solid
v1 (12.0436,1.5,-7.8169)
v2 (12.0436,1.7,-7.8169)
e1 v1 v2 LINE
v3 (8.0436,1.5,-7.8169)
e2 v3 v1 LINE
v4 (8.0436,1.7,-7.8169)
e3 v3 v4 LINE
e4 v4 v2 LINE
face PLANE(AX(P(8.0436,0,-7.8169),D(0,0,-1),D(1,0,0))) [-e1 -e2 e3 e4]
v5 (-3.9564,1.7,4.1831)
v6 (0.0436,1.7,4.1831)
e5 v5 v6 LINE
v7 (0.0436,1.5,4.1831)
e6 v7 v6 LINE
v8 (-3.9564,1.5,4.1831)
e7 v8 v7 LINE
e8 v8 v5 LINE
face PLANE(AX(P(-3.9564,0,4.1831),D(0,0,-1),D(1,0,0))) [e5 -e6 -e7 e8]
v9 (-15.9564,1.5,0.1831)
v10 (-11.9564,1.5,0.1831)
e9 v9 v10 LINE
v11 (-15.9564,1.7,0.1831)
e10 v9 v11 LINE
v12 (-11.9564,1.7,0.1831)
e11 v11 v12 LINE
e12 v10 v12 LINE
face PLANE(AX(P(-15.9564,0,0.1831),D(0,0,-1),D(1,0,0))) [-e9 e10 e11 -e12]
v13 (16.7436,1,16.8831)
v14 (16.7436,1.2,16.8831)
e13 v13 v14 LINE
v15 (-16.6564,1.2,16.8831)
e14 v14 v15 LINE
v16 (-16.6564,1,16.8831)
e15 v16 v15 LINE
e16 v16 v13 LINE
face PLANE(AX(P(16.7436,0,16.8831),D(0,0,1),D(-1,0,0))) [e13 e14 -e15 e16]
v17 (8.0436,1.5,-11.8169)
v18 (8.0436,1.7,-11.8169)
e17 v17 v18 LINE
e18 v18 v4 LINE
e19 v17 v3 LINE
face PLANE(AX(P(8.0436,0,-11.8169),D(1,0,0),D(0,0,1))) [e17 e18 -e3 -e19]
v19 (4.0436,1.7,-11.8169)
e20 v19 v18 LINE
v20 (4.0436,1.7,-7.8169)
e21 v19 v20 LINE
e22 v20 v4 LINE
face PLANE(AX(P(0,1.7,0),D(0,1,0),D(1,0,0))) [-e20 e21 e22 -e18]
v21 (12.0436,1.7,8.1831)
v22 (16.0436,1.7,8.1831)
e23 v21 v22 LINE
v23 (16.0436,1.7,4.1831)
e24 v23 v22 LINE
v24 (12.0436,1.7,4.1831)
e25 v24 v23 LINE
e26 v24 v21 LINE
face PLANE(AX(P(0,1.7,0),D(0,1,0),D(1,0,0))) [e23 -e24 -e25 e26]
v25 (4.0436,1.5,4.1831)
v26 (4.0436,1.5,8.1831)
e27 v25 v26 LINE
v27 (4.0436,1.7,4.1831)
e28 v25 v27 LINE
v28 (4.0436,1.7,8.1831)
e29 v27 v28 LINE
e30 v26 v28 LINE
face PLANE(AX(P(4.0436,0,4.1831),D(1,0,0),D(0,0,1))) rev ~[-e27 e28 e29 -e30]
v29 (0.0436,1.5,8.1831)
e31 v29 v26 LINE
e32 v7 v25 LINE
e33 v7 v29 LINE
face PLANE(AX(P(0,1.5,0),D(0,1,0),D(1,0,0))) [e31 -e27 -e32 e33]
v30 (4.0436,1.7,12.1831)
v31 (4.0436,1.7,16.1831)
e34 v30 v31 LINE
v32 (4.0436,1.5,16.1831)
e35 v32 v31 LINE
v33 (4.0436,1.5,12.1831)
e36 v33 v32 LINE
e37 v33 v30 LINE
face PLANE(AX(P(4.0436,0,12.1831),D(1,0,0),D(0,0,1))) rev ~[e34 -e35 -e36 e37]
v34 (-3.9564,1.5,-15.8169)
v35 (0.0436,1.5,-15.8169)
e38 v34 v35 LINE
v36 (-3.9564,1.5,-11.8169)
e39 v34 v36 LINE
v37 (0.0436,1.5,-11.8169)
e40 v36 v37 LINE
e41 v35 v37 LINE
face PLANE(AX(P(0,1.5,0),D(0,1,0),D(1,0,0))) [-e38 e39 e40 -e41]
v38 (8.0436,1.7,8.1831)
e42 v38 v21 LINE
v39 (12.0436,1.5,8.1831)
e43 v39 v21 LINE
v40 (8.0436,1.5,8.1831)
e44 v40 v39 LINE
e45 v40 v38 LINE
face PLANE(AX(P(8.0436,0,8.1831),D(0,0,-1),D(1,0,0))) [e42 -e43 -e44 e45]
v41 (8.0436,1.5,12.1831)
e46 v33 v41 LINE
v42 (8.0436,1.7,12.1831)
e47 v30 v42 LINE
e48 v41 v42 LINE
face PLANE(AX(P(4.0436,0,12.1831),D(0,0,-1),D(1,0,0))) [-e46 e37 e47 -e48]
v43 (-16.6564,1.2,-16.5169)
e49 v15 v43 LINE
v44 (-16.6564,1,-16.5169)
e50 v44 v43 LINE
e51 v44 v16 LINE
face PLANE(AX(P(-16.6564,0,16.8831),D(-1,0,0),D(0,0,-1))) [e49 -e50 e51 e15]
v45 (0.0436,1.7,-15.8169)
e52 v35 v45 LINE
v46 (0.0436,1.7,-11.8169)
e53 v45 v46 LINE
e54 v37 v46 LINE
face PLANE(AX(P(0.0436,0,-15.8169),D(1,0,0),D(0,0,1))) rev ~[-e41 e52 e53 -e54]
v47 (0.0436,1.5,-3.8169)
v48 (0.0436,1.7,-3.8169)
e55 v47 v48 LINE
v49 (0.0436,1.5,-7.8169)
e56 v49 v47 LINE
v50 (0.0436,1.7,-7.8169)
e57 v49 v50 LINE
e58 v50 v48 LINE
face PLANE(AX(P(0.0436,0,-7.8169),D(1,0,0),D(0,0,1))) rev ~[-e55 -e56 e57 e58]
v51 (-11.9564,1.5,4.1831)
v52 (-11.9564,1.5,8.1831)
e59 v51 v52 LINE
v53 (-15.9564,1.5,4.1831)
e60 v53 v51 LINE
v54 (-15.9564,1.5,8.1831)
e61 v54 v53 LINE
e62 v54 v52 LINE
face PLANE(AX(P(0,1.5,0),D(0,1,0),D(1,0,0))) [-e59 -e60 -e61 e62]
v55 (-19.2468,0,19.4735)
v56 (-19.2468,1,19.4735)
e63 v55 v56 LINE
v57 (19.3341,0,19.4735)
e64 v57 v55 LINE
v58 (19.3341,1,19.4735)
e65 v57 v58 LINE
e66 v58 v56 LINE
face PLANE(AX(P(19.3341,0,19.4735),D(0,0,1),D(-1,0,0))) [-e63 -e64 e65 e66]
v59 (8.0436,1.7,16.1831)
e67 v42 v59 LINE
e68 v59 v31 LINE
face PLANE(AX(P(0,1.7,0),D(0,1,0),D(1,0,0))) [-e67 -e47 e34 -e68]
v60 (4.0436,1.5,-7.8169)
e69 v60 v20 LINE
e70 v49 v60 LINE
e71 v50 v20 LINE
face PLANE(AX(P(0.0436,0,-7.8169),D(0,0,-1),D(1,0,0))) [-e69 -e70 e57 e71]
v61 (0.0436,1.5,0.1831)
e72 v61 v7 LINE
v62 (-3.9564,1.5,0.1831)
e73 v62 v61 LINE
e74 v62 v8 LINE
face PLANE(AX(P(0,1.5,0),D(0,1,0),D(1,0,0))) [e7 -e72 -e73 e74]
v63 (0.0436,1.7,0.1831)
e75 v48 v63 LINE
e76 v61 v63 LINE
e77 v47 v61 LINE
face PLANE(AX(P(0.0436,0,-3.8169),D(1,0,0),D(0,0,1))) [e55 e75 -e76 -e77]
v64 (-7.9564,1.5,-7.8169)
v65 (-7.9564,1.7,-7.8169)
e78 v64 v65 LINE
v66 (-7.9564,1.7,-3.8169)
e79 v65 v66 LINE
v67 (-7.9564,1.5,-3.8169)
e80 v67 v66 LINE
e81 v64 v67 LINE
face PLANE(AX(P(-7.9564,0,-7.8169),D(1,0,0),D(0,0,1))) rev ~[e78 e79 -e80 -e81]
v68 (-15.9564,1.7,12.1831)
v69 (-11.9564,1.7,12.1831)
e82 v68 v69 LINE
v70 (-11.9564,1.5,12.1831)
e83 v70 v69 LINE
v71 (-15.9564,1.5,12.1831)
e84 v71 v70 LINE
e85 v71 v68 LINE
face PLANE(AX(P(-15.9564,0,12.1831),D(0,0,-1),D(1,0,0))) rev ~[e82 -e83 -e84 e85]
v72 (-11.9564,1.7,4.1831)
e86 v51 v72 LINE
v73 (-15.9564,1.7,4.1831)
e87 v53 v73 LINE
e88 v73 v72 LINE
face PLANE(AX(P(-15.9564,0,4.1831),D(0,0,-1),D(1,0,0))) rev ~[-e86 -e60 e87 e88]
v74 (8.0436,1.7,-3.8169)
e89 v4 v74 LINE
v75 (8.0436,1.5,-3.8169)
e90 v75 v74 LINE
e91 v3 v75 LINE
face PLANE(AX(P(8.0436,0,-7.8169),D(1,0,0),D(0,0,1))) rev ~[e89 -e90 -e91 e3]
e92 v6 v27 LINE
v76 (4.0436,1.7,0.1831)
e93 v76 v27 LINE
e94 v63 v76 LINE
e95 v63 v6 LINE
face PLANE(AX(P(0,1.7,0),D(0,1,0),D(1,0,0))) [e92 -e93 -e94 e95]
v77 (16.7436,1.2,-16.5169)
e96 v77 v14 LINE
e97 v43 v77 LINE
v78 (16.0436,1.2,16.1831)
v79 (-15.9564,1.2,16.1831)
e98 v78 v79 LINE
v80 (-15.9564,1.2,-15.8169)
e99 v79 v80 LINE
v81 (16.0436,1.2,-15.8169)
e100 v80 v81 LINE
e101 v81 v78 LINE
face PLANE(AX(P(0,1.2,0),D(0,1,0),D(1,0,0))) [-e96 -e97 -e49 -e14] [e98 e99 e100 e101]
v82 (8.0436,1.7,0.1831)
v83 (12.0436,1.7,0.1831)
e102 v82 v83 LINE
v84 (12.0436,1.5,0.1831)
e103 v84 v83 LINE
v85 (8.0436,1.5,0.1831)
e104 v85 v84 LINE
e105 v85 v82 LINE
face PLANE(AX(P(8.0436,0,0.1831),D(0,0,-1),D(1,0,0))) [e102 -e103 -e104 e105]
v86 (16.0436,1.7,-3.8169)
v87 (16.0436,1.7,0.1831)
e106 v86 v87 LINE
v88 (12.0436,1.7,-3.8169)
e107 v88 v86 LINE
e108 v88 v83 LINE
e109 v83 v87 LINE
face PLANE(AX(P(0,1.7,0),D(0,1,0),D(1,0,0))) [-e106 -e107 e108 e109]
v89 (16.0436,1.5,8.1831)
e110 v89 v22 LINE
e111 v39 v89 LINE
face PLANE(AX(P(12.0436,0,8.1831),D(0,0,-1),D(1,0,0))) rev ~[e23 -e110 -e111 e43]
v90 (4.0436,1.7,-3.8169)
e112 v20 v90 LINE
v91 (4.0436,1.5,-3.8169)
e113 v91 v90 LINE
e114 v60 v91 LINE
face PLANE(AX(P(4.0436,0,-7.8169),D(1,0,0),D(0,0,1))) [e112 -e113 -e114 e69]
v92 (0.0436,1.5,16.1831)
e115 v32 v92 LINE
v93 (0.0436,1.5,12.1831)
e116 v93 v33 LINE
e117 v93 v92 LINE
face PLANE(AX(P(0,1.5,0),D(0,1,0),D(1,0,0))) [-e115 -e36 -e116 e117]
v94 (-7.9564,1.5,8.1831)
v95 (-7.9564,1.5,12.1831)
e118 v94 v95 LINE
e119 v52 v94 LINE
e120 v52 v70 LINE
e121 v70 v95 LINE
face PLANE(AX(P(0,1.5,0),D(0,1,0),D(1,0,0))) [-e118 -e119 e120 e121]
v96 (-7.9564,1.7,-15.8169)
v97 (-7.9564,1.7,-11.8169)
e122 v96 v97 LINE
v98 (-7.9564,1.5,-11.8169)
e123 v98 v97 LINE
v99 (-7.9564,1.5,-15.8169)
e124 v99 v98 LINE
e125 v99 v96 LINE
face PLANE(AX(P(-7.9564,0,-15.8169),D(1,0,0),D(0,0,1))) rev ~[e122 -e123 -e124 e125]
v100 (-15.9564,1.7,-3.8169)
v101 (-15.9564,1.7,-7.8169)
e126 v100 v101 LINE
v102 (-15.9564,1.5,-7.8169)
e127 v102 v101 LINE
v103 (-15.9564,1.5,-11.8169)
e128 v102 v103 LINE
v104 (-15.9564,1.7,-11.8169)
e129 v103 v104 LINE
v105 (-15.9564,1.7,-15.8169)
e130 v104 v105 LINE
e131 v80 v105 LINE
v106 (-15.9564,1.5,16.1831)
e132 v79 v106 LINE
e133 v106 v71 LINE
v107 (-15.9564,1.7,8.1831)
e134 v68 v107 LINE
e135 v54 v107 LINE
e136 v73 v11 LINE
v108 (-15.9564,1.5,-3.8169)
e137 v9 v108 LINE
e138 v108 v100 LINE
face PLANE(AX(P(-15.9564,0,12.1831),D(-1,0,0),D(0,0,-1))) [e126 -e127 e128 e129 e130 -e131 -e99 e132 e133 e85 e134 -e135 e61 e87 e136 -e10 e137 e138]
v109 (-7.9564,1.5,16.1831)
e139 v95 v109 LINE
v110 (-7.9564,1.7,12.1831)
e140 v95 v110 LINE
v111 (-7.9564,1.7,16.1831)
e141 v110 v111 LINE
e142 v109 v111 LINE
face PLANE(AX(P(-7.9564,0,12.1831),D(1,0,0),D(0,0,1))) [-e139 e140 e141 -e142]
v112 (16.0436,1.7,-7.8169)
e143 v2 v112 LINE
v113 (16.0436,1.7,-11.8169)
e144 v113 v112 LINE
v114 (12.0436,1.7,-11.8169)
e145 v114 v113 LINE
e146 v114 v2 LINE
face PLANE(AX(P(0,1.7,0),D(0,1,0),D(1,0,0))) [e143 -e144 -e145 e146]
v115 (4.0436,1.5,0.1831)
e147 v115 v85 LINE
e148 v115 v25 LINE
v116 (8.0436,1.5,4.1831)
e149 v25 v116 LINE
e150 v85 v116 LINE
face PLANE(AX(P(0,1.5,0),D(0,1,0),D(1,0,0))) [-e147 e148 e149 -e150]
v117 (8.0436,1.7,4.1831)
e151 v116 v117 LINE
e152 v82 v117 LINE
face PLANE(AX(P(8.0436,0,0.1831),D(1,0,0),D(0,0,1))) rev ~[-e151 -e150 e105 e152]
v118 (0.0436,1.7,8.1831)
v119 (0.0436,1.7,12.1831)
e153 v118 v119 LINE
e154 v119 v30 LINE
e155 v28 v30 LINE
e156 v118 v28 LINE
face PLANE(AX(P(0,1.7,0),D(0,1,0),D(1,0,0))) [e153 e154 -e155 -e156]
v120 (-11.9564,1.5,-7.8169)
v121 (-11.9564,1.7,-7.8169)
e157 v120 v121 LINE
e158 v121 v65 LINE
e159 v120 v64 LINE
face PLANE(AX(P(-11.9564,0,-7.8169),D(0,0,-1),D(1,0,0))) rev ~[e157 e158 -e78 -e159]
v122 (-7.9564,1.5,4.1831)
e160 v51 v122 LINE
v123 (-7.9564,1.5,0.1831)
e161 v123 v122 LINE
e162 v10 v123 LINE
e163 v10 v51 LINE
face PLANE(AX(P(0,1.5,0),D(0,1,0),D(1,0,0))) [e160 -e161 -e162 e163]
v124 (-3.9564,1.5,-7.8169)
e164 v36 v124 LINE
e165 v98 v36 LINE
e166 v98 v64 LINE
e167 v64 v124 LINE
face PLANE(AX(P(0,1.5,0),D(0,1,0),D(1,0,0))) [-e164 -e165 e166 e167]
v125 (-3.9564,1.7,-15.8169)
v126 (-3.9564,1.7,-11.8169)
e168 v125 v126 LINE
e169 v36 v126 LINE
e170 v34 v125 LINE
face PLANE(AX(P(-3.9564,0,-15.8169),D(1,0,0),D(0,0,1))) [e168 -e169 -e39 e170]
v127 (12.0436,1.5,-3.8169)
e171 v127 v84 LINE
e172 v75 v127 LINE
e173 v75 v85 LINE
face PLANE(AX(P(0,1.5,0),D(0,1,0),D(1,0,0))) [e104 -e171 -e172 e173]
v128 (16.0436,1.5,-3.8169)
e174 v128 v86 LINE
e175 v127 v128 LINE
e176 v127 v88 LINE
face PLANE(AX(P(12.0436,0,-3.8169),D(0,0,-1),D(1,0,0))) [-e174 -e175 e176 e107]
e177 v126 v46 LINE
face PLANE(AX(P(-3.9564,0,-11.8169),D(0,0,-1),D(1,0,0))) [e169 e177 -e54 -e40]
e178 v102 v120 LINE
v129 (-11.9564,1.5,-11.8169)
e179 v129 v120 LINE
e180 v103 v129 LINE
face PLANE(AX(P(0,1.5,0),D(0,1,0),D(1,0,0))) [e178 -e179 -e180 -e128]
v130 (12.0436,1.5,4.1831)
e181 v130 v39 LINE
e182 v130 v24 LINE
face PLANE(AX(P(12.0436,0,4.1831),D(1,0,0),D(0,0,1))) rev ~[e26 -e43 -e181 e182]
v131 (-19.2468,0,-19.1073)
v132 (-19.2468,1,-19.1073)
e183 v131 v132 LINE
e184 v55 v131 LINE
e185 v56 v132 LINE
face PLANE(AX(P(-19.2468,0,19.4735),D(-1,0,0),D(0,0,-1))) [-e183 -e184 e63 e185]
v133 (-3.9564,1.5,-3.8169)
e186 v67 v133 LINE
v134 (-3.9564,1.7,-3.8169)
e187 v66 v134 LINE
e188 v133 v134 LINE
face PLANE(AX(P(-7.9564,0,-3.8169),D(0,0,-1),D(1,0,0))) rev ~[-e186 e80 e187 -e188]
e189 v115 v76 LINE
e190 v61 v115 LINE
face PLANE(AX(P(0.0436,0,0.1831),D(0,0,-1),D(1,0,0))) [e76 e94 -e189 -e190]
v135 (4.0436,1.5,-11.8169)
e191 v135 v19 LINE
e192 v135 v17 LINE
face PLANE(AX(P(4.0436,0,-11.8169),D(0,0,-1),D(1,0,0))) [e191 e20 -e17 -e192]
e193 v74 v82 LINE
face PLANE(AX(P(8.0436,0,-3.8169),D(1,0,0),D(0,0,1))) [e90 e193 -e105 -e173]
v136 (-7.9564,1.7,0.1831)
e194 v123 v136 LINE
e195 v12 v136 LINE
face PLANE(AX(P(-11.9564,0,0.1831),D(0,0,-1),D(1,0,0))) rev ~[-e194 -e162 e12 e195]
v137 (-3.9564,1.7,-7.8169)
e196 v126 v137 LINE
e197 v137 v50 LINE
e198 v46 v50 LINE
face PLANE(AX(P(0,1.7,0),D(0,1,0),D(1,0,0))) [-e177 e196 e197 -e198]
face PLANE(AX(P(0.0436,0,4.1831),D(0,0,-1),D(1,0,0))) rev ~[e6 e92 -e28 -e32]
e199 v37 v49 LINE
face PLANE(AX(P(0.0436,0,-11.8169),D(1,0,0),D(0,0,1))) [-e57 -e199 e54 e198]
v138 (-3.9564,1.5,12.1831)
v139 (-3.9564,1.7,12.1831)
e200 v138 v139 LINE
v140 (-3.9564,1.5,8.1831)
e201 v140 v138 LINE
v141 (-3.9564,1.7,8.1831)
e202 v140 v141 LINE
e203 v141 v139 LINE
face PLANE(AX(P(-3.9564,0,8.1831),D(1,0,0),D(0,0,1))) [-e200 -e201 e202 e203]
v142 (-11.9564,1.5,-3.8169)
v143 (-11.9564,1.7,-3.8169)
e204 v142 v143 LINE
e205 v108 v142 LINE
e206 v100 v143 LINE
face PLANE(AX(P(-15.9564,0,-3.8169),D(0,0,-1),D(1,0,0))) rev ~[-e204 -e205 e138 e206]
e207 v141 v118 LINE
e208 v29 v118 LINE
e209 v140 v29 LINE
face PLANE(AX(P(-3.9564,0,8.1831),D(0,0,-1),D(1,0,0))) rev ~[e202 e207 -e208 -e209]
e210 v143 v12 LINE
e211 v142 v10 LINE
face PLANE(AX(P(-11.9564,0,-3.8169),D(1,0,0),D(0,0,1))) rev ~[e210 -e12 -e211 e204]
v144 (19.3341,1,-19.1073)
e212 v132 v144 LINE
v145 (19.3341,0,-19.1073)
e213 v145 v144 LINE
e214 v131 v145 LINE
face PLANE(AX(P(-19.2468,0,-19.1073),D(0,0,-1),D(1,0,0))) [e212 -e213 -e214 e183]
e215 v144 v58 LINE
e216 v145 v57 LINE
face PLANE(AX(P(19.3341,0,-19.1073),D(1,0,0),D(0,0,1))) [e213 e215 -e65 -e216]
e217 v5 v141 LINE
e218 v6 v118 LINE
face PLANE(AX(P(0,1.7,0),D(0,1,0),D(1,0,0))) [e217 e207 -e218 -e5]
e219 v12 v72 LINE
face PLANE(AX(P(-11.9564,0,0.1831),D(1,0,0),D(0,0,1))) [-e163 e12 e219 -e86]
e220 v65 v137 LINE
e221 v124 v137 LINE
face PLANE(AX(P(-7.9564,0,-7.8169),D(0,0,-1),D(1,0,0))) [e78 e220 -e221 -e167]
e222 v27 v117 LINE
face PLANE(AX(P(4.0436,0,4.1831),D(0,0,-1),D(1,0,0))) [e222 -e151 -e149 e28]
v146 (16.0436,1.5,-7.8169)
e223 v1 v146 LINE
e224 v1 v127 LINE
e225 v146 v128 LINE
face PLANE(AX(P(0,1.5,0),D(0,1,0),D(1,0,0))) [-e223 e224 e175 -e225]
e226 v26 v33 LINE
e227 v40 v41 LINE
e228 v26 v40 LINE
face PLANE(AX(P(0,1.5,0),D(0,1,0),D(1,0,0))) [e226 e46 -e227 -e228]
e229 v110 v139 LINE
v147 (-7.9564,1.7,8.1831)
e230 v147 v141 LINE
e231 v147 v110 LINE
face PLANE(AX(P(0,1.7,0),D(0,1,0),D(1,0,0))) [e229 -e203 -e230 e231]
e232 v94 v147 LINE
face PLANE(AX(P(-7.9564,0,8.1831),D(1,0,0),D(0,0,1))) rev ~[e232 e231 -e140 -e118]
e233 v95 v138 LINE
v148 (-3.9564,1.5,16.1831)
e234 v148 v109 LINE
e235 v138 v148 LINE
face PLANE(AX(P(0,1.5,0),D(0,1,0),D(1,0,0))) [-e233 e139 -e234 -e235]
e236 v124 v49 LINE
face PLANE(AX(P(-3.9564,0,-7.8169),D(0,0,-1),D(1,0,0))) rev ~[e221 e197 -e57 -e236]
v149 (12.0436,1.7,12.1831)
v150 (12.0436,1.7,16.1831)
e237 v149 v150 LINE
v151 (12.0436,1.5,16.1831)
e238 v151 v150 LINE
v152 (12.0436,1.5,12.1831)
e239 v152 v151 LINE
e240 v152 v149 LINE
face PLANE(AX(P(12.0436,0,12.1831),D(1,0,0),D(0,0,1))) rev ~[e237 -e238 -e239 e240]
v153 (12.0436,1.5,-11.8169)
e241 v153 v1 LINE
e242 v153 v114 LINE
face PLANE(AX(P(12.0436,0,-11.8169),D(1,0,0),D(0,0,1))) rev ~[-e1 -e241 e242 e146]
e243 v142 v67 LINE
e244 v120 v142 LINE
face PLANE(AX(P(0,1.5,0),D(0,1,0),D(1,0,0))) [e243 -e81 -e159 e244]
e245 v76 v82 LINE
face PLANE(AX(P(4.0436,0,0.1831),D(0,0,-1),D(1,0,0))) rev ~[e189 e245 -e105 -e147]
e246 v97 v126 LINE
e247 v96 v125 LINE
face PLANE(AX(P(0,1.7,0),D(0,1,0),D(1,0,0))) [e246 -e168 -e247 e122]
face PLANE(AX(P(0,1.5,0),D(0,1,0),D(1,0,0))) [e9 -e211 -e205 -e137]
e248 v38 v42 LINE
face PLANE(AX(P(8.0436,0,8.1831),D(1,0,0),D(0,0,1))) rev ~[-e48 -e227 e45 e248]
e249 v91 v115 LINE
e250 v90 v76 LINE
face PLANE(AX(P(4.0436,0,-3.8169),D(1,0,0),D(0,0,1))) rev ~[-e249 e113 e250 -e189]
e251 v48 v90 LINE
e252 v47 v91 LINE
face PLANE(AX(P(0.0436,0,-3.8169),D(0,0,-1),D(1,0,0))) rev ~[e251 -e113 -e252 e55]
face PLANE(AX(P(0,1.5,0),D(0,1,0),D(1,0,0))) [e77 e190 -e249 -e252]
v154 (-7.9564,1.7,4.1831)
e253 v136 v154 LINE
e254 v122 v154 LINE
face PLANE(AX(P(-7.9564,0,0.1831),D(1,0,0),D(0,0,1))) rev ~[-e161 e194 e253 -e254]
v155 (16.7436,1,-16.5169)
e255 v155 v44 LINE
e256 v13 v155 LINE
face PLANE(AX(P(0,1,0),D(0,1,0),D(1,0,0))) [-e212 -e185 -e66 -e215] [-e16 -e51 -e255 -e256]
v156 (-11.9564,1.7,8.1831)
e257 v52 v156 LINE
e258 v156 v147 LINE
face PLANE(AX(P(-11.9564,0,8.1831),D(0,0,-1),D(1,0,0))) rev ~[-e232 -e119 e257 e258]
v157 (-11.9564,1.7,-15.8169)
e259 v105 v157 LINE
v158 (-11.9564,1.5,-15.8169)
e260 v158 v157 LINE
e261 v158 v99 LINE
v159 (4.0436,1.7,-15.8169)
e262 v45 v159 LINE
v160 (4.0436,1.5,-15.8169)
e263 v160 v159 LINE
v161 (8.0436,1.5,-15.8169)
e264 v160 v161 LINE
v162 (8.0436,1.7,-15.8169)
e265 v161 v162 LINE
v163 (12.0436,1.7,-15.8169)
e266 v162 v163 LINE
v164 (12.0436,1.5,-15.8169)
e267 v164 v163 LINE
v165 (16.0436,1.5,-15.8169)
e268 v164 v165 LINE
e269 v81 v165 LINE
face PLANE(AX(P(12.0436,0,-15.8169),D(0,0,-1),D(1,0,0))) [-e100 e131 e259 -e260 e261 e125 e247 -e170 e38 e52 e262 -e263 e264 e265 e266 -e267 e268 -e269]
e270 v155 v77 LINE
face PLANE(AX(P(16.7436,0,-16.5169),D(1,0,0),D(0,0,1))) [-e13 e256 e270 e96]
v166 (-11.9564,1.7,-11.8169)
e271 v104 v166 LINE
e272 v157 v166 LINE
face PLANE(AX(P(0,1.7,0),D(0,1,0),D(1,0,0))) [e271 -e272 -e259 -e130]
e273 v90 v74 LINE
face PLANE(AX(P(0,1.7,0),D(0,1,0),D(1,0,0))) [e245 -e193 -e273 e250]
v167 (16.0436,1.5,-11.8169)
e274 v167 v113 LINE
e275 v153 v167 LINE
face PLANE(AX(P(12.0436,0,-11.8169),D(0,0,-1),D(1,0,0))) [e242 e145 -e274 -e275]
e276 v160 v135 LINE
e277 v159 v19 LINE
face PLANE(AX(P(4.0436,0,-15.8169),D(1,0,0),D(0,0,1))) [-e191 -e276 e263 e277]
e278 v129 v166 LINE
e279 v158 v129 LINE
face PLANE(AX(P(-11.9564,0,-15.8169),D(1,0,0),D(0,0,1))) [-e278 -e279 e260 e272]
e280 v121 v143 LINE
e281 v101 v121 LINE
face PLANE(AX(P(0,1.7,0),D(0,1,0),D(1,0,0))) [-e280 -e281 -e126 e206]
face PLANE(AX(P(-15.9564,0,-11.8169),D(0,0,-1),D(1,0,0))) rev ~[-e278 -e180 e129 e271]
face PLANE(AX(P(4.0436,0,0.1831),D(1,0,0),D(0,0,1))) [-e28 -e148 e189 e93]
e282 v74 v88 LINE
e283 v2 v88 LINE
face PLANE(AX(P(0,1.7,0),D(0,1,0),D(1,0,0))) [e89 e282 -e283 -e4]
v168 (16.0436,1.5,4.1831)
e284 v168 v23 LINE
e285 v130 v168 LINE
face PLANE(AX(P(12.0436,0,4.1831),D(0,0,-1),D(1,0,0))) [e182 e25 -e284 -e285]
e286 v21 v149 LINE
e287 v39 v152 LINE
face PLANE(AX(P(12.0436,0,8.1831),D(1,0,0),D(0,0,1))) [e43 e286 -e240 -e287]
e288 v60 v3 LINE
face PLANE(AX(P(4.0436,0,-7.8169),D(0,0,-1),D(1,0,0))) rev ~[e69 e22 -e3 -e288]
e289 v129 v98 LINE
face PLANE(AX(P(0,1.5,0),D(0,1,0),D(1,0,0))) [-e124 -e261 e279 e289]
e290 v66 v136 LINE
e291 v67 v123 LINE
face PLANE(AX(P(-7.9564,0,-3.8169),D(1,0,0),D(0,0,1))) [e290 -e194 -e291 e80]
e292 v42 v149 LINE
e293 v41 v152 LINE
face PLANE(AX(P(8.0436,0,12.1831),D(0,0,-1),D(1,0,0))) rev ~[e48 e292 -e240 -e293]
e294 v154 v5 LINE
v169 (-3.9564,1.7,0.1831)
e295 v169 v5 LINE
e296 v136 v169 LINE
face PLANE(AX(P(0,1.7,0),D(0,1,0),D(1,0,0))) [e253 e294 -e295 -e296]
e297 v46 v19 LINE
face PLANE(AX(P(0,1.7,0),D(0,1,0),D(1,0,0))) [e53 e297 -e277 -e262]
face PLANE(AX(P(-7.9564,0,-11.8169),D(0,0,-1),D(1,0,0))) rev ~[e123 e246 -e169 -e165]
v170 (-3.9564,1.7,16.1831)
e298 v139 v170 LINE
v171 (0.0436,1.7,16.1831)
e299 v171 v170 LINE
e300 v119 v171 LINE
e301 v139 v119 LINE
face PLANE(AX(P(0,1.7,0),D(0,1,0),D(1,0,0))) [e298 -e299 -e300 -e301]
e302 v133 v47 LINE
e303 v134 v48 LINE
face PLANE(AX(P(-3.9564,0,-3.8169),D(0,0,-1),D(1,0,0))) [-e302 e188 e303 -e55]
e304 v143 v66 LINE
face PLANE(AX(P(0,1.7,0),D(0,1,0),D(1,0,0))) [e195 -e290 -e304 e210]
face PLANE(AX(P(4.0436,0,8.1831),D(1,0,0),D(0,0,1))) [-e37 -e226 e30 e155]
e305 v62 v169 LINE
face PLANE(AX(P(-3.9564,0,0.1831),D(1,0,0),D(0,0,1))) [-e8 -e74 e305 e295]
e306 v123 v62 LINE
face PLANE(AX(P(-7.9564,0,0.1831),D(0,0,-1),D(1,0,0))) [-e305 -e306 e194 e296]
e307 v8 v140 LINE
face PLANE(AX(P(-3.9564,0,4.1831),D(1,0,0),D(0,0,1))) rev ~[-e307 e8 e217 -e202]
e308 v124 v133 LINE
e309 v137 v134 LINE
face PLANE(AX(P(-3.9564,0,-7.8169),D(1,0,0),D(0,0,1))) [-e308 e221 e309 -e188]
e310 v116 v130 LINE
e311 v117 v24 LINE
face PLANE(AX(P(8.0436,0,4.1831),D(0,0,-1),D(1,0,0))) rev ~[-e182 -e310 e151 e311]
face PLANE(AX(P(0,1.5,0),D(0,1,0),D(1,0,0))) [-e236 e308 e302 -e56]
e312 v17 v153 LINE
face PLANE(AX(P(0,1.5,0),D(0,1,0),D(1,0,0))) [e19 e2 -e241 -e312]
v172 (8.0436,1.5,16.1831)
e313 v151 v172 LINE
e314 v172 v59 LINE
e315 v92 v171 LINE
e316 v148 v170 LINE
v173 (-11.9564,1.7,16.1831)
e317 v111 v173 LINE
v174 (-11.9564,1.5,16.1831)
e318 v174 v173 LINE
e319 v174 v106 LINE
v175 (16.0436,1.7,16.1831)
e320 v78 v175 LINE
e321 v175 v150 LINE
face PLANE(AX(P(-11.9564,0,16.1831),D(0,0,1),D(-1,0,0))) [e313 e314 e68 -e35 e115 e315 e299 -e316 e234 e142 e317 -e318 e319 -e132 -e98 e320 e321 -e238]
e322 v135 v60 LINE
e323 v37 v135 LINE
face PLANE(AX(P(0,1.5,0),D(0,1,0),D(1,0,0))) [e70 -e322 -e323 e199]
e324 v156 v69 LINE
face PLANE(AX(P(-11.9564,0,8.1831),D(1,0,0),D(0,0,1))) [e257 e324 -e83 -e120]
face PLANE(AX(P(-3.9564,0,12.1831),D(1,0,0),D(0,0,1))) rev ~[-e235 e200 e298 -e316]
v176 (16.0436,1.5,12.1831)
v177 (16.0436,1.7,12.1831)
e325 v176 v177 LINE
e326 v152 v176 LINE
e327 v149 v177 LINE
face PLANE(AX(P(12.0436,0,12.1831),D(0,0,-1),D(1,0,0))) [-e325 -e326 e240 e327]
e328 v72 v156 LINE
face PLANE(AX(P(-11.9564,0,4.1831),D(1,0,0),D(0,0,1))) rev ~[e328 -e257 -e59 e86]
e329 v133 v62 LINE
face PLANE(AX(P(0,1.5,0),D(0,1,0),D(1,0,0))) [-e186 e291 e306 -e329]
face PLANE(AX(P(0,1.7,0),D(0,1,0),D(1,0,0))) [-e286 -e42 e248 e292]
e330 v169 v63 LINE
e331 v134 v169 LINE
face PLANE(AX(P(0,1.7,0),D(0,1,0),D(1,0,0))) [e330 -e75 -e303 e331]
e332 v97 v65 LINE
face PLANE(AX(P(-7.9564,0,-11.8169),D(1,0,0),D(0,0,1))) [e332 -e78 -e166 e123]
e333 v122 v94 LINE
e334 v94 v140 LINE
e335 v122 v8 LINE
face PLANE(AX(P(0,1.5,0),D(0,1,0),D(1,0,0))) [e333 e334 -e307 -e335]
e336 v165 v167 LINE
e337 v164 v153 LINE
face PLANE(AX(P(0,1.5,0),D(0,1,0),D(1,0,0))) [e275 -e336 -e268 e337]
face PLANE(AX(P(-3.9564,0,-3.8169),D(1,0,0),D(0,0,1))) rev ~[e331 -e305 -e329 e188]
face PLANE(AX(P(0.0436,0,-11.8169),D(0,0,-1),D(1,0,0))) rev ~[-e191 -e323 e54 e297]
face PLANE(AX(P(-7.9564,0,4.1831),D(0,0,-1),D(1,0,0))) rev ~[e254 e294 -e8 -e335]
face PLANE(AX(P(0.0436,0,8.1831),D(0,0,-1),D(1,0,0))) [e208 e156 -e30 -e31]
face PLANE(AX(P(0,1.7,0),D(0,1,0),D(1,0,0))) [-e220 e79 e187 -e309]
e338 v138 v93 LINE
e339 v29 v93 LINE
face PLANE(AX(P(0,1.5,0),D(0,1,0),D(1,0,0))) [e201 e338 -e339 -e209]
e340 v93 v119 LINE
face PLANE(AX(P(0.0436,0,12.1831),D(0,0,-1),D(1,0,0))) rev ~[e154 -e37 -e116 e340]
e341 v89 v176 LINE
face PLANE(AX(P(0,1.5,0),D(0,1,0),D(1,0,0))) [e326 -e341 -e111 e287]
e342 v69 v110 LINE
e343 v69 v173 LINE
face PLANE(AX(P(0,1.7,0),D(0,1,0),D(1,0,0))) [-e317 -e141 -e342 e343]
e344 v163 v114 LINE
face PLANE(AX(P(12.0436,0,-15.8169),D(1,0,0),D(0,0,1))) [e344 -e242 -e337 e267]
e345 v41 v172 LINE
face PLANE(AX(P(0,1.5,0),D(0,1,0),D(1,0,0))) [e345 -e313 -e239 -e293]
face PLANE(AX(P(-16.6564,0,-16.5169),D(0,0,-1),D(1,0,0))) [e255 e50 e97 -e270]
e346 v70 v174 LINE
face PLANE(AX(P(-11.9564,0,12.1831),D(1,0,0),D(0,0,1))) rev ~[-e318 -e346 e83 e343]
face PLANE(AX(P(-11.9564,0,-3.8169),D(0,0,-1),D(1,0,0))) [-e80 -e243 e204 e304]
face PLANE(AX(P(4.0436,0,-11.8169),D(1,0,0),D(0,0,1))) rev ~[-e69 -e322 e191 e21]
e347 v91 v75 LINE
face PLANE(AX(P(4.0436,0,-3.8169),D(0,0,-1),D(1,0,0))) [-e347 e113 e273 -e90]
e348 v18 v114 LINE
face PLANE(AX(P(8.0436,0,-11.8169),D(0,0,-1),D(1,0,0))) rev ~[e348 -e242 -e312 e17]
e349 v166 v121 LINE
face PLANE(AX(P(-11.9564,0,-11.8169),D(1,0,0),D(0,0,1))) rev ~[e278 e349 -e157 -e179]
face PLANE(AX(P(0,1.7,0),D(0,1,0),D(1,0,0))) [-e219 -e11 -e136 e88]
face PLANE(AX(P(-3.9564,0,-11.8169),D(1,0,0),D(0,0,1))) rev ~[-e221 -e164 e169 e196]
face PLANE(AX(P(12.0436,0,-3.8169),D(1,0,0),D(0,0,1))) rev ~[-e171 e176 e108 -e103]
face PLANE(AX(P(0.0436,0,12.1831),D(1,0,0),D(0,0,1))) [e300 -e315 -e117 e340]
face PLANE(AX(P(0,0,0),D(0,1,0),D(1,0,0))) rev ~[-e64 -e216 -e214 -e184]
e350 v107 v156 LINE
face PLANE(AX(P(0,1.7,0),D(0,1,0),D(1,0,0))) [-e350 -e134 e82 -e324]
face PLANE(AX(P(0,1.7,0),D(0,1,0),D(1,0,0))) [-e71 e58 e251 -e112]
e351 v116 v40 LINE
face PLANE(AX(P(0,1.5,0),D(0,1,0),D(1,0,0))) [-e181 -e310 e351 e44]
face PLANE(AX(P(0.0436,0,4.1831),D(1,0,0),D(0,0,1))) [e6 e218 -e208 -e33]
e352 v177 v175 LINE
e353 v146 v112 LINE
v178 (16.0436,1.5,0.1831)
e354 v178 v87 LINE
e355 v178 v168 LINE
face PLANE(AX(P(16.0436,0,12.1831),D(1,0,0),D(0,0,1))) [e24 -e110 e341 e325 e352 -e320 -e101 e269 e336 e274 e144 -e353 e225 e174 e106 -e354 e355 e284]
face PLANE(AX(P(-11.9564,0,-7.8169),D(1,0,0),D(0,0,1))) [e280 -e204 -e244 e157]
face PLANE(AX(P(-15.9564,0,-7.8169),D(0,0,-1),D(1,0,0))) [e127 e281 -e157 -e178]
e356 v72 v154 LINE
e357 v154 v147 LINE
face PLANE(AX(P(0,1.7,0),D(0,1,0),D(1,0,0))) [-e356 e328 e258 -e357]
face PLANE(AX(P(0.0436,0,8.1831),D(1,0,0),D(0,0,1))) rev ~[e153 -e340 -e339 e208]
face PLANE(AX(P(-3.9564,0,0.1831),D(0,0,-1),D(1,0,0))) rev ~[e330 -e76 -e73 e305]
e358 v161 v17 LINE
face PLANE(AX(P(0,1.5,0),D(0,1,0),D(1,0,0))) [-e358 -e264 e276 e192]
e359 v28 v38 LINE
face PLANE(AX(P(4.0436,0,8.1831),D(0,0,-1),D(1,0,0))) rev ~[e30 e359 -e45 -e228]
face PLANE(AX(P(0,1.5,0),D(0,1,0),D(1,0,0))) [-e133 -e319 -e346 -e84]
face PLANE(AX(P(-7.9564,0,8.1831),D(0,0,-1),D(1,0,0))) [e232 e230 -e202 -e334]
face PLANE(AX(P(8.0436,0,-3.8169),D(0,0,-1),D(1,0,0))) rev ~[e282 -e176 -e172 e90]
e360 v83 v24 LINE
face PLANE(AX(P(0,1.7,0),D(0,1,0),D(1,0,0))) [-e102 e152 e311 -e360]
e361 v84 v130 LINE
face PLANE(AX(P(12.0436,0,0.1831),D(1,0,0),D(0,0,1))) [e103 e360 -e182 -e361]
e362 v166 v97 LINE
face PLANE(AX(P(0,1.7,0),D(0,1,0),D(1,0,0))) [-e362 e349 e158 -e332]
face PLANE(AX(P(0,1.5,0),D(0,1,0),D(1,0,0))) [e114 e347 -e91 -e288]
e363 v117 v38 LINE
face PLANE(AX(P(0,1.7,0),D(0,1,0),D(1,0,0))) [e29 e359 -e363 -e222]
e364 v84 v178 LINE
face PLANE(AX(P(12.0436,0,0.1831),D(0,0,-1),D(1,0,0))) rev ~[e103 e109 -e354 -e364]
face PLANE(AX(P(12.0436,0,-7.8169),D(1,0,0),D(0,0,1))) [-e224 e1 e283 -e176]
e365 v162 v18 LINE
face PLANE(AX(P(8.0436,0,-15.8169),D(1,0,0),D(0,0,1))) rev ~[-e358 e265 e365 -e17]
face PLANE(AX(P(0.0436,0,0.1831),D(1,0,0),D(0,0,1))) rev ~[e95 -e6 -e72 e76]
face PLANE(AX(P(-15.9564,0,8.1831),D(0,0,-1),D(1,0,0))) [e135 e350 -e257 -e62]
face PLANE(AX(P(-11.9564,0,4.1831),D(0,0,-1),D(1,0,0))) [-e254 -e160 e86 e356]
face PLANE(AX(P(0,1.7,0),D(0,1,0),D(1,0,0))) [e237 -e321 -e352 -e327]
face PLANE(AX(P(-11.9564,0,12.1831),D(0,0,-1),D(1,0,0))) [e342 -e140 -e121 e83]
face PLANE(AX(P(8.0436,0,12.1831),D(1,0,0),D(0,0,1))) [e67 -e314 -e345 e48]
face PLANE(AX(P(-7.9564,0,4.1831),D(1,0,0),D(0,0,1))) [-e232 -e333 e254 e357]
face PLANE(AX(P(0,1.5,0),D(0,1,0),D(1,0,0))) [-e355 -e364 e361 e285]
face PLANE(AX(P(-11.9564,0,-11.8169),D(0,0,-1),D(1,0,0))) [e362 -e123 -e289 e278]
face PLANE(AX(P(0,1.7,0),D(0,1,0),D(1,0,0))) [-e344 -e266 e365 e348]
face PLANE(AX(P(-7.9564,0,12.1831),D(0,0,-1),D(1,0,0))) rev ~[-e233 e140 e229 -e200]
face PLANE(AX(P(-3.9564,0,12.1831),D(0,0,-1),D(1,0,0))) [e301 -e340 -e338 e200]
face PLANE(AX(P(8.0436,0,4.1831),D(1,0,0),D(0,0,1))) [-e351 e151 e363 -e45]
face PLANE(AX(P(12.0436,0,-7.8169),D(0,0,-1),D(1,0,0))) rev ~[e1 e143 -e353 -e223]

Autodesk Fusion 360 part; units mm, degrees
sketch "Chessboard" plane through (0, 0, 0) normal (0, 1, 0) x (1, 0, 0)
  line L0 (-15.9564, 15.8169) -> (16.0436, 15.8169)
  line L1 (16.0436, 15.8169) -> (16.0436, -16.1831)
  line L2 (16.0436, -16.1831) -> (-15.9564, -16.1831)
  line L3 (-15.9564, -16.1831) -> (-15.9564, 15.8169)
  line L4 (16.7436, 16.5169) -> (16.7436, -16.8831)
  line L5 (16.7436, -16.8831) -> (-16.6564, -16.8831)
  line L6 (-16.6564, -16.8831) -> (-16.6564, 16.5169)
  line L7 (-16.6564, 16.5169) -> (16.7436, 16.5169)
  line L8 (19.3341, 19.1073) -> (19.3341, -19.4735)
  line L9 (19.3341, -19.4735) -> (-19.2468, -19.4735)
  line L10 (-19.2468, -19.4735) -> (-19.2468, 19.1073)
  line L11 (-19.2468, 19.1073) -> (19.3341, 19.1073)
  line L12 (-15.9564, 15.8169) -> (-11.9564, 15.8169)
  line L13 (-11.9564, 15.8169) -> (-7.9564, 15.8169)
  line L14 (-7.9564, 15.8169) -> (-3.9564, 15.8169)
  line L15 (-3.9564, 15.8169) -> (0.0436, 15.8169)
  line L16 (0.0436, 15.8169) -> (4.0436, 15.8169)
  line L17 (4.0436, 15.8169) -> (8.0436, 15.8169)
  line L18 (8.0436, 15.8169) -> (12.0436, 15.8169)
  line L19 (-15.9564, 15.8169) -> (-15.9564, 11.8169)
  line L20 (-15.9564, 11.8169) -> (-15.9564, 7.8169)
  line L21 (-15.9564, 7.8169) -> (-15.9564, 3.8169)
  line L22 (-15.9564, 3.8169) -> (-15.9564, -0.1831)
  line L23 (-15.9564, -0.1831) -> (-15.9564, -4.1831)
  line L24 (-15.9564, -4.1831) -> (-15.9564, -8.1831)
  line L25 (-15.9564, -8.1831) -> (-15.9564, -12.1831)
  line L26 (-11.9564, 15.8169) -> (-11.9564, -16.1831)
  line L27 (-7.9564, 15.8169) -> (-7.9564, -16.1831)
  line L28 (-3.9564, 15.8169) -> (-3.9564, -16.1831)
  line L29 (0.0436, 15.8169) -> (0.0436, -16.1831)
  line L30 (4.0436, 15.8169) -> (4.0436, -16.1831)
  line L31 (8.0436, 15.8169) -> (8.0436, -16.1831)
  line L32 (12.0436, 15.8169) -> (12.0436, -16.1831)
  line L33 (-15.9564, 11.8169) -> (16.0436, 11.8169)
  line L34 (-15.9564, 7.8169) -> (16.0436, 7.8169)
  line L35 (-15.9564, 3.8169) -> (16.0436, 3.8169)
  line L36 (-15.9564, -0.1831) -> (16.0436, -0.1831)
  line L37 (-15.9564, -4.1831) -> (16.0436, -4.1831)
  line L38 (-15.9564, -8.1831) -> (16.0436, -8.1831)
  line L39 (-15.9564, -12.1831) -> (16.0436, -12.1831)
  dimension "d3" = -0.7
extrude "Extrude1" add sketch "Chessboard" along normal blind 1 contours L0 L3 L12 L19 L26 L33 | L0 L13 L26 L27 L33 | L3 L20 L26 L33 L34 | L0 L14 L27 L28 L33 | L26 L27 L33 L34 | L3 L21 L26 L34 L35 | L0 L15 L28 L29 L33 | L27 L28 L33 L34 | L26 L27 L34 L35 | L3 L22 L26 L35 L36 | L0 L16 L29 L30 L33 | L28 L29 L33 L34 | L27 L28 L34 L35 | L26 L27 L35 L36 | L3 L23 L26 L36 L37 | L0 L17 L30 L31 L33 | L29 L30 L33 L34 | L28 L29 L34 L35 | L27 L28 L35 L36 | L26 L27 L36 L37 | L3 L24 L26 L37 L38 | L0 L18 L31 L32 L33 | L30 L31 L33 L34 | L29 L30 L34 L35 | L28 L29 L35 L36 | L27 L28 L36 L37 | L26 L27 L37 L38 | L3 L25 L26 L38 L39 | L0 L1 L32 L33 | L31 L32 L33 L34 | L30 L31 L34 L35 | L29 L30 L35 L36 | L28 L29 L36 L37 | L27 L28 L37 L38 | L26 L27 L38 L39 | L2 L3 L26 L39 | L1 L32 L33 L34 | L31 L32 L34 L35 | L30 L31 L35 L36 | L29 L30 L36 L37 | L28 L29 L37 L38 | L27 L28 L38 L39 | L2 L26 L27 L39 | L1 L32 L34 L35 | L31 L32 L35 L36 | L30 L31 L36 L37 | L29 L30 L37 L38 | L28 L29 L38 L39 | L2 L27 L28 L39 | L1 L32 L35 L36 | L31 L32 L36 L37 | L30 L31 L37 L38 | L29 L30 L38 L39 | L2 L28 L29 L39 | L1 L32 L36 L37 | L31 L32 L37 L38 | L30 L31 L38 L39 | L2 L29 L30 L39 | L1 L32 L37 L38 | L31 L32 L38 L39 | L2 L30 L31 L39 | L1 L32 L38 L39 | L2 L31 L32 L39 | L1 L2 L32 L39 | L4 L5 L6 L7 | L8 L9 L10 L11
extrude "Extrude2" add sketch "Chessboard" along normal blind 1.2 contours L4 L5 L6 L7
extrude "Extrude3" add sketch "Chessboard" along normal blind 1.2 contours L0 L3 L12 L19 L26 L33 | L0 L14 L27 L28 L33 | L26 L27 L33 L34 | L3 L21 L26 L34 L35 | L0 L16 L29 L30 L33 | L28 L29 L33 L34 | L27 L28 L34 L35 | L26 L27 L35 L36 | L3 L23 L26 L36 L37 | L0 L18 L31 L32 L33 | L30 L31 L33 L34 | L29 L30 L34 L35 | L28 L29 L35 L36 | L27 L28 L36 L37 | L26 L27 L37 L38 | L3 L25 L26 L38 L39 | L1 L32 L33 L34 | L31 L32 L34 L35 | L30 L31 L35 L36 | L29 L30 L36 L37 | L28 L29 L37 L38 | L27 L28 L38 L39 | L2 L26 L27 L39 | L1 L32 L35 L36 | L31 L32 L36 L37 | L30 L31 L37 L38 | L29 L30 L38 L39 | L2 L28 L29 L39 | L1 L32 L37 L38 | L31 L32 L38 L39 | L2 L30 L31 L39 | L1 L2 L32 L39
extrude "Extrude4" add sketch "Chessboard" along normal blind 1.5 contours L0 L13 L26 L27 L33 | L3 L20 L26 L33 L34 | L0 L15 L28 L29 L33 | L27 L28 L33 L34 | L26 L27 L34 L35 | L3 L22 L26 L35 L36 | L0 L17 L30 L31 L33 | L29 L30 L33 L34 | L28 L29 L34 L35 | L27 L28 L35 L36 | L26 L27 L36 L37 | L3 L24 L26 L37 L38 | L0 L1 L32 L33 | L31 L32 L33 L34 | L30 L31 L34 L35 | L29 L30 L35 L36 | L28 L29 L36 L37 | L27 L28 L37 L38 | L26 L27 L38 L39 | L2 L3 L26 L39 | L1 L32 L34 L35 | L31 L32 L35 L36 | L30 L31 L36 L37 | L29 L30 L37 L38 | L28 L29 L38 L39 | L2 L27 L28 L39 | L1 L32 L36 L37 | L31 L32 L37 L38 | L30 L31 L38 L39 | L2 L29 L30 L39 | L1 L32 L38 L39 | L2 L31 L32 L39
extrude "Extrude5" add sketch "Chessboard" along normal blind 1 contours L0 L13 L26 L27 L33 | L3 L20 L26 L33 L34 | L0 L15 L28 L29 L33 | L27 L28 L33 L34 | L26 L27 L34 L35 | L3 L22 L26 L35 L36 | L0 L17 L30 L31 L33 | L29 L30 L33 L34 | L28 L29 L34 L35 | L27 L28 L35 L36 | L26 L27 L36 L37 | L3 L24 L26 L37 L38 | L0 L1 L32 L33 | L31 L32 L33 L34 | L30 L31 L34 L35 | L29 L30 L35 L36 | L28 L29 L36 L37 | L27 L28 L37 L38 | L26 L27 L38 L39 | L2 L3 L26 L39 | L1 L32 L34 L35 | L31 L32 L35 L36 | L30 L31 L36 L37 | L29 L30 L37 L38 | L28 L29 L38 L39 | L2 L27 L28 L39 | L1 L32 L36 L37 | L31 L32 L37 L38 | L30 L31 L38 L39 | L2 L29 L30 L39 | L1 L32 L38 L39 | L2 L31 L32 L39
extrude "Extrude6" add sketch "Chessboard" along normal blind 1.7 contours L0 L3 L12 L19 L26 L33 | L0 L14 L27 L28 L33 | L26 L27 L33 L34 | L3 L21 L26 L34 L35 | L0 L16 L29 L30 L33 | L28 L29 L33 L34 | L27 L28 L34 L35 | L26 L27 L35 L36 | L3 L23 L26 L36 L37 | L0 L18 L31 L32 L33 | L30 L31 L33 L34 | L29 L30 L34 L35 | L28 L29 L35 L36 | L27 L28 L36 L37 | L26 L27 L37 L38 | L3 L25 L26 L38 L39 | L1 L32 L33 L34 | L31 L32 L34 L35 | L30 L31 L35 L36 | L29 L30 L36 L37 | L28 L29 L37 L38 | L27 L28 L38 L39 | L2 L26 L27 L39 | L1 L32 L35 L36 | L31 L32 L36 L37 | L30 L31 L37 L38 | L29 L30 L38 L39 | L2 L28 L29 L39 | L1 L32 L37 L38 | L31 L32 L38 L39 | L2 L30 L31 L39 | L1 L2 L32 L39
